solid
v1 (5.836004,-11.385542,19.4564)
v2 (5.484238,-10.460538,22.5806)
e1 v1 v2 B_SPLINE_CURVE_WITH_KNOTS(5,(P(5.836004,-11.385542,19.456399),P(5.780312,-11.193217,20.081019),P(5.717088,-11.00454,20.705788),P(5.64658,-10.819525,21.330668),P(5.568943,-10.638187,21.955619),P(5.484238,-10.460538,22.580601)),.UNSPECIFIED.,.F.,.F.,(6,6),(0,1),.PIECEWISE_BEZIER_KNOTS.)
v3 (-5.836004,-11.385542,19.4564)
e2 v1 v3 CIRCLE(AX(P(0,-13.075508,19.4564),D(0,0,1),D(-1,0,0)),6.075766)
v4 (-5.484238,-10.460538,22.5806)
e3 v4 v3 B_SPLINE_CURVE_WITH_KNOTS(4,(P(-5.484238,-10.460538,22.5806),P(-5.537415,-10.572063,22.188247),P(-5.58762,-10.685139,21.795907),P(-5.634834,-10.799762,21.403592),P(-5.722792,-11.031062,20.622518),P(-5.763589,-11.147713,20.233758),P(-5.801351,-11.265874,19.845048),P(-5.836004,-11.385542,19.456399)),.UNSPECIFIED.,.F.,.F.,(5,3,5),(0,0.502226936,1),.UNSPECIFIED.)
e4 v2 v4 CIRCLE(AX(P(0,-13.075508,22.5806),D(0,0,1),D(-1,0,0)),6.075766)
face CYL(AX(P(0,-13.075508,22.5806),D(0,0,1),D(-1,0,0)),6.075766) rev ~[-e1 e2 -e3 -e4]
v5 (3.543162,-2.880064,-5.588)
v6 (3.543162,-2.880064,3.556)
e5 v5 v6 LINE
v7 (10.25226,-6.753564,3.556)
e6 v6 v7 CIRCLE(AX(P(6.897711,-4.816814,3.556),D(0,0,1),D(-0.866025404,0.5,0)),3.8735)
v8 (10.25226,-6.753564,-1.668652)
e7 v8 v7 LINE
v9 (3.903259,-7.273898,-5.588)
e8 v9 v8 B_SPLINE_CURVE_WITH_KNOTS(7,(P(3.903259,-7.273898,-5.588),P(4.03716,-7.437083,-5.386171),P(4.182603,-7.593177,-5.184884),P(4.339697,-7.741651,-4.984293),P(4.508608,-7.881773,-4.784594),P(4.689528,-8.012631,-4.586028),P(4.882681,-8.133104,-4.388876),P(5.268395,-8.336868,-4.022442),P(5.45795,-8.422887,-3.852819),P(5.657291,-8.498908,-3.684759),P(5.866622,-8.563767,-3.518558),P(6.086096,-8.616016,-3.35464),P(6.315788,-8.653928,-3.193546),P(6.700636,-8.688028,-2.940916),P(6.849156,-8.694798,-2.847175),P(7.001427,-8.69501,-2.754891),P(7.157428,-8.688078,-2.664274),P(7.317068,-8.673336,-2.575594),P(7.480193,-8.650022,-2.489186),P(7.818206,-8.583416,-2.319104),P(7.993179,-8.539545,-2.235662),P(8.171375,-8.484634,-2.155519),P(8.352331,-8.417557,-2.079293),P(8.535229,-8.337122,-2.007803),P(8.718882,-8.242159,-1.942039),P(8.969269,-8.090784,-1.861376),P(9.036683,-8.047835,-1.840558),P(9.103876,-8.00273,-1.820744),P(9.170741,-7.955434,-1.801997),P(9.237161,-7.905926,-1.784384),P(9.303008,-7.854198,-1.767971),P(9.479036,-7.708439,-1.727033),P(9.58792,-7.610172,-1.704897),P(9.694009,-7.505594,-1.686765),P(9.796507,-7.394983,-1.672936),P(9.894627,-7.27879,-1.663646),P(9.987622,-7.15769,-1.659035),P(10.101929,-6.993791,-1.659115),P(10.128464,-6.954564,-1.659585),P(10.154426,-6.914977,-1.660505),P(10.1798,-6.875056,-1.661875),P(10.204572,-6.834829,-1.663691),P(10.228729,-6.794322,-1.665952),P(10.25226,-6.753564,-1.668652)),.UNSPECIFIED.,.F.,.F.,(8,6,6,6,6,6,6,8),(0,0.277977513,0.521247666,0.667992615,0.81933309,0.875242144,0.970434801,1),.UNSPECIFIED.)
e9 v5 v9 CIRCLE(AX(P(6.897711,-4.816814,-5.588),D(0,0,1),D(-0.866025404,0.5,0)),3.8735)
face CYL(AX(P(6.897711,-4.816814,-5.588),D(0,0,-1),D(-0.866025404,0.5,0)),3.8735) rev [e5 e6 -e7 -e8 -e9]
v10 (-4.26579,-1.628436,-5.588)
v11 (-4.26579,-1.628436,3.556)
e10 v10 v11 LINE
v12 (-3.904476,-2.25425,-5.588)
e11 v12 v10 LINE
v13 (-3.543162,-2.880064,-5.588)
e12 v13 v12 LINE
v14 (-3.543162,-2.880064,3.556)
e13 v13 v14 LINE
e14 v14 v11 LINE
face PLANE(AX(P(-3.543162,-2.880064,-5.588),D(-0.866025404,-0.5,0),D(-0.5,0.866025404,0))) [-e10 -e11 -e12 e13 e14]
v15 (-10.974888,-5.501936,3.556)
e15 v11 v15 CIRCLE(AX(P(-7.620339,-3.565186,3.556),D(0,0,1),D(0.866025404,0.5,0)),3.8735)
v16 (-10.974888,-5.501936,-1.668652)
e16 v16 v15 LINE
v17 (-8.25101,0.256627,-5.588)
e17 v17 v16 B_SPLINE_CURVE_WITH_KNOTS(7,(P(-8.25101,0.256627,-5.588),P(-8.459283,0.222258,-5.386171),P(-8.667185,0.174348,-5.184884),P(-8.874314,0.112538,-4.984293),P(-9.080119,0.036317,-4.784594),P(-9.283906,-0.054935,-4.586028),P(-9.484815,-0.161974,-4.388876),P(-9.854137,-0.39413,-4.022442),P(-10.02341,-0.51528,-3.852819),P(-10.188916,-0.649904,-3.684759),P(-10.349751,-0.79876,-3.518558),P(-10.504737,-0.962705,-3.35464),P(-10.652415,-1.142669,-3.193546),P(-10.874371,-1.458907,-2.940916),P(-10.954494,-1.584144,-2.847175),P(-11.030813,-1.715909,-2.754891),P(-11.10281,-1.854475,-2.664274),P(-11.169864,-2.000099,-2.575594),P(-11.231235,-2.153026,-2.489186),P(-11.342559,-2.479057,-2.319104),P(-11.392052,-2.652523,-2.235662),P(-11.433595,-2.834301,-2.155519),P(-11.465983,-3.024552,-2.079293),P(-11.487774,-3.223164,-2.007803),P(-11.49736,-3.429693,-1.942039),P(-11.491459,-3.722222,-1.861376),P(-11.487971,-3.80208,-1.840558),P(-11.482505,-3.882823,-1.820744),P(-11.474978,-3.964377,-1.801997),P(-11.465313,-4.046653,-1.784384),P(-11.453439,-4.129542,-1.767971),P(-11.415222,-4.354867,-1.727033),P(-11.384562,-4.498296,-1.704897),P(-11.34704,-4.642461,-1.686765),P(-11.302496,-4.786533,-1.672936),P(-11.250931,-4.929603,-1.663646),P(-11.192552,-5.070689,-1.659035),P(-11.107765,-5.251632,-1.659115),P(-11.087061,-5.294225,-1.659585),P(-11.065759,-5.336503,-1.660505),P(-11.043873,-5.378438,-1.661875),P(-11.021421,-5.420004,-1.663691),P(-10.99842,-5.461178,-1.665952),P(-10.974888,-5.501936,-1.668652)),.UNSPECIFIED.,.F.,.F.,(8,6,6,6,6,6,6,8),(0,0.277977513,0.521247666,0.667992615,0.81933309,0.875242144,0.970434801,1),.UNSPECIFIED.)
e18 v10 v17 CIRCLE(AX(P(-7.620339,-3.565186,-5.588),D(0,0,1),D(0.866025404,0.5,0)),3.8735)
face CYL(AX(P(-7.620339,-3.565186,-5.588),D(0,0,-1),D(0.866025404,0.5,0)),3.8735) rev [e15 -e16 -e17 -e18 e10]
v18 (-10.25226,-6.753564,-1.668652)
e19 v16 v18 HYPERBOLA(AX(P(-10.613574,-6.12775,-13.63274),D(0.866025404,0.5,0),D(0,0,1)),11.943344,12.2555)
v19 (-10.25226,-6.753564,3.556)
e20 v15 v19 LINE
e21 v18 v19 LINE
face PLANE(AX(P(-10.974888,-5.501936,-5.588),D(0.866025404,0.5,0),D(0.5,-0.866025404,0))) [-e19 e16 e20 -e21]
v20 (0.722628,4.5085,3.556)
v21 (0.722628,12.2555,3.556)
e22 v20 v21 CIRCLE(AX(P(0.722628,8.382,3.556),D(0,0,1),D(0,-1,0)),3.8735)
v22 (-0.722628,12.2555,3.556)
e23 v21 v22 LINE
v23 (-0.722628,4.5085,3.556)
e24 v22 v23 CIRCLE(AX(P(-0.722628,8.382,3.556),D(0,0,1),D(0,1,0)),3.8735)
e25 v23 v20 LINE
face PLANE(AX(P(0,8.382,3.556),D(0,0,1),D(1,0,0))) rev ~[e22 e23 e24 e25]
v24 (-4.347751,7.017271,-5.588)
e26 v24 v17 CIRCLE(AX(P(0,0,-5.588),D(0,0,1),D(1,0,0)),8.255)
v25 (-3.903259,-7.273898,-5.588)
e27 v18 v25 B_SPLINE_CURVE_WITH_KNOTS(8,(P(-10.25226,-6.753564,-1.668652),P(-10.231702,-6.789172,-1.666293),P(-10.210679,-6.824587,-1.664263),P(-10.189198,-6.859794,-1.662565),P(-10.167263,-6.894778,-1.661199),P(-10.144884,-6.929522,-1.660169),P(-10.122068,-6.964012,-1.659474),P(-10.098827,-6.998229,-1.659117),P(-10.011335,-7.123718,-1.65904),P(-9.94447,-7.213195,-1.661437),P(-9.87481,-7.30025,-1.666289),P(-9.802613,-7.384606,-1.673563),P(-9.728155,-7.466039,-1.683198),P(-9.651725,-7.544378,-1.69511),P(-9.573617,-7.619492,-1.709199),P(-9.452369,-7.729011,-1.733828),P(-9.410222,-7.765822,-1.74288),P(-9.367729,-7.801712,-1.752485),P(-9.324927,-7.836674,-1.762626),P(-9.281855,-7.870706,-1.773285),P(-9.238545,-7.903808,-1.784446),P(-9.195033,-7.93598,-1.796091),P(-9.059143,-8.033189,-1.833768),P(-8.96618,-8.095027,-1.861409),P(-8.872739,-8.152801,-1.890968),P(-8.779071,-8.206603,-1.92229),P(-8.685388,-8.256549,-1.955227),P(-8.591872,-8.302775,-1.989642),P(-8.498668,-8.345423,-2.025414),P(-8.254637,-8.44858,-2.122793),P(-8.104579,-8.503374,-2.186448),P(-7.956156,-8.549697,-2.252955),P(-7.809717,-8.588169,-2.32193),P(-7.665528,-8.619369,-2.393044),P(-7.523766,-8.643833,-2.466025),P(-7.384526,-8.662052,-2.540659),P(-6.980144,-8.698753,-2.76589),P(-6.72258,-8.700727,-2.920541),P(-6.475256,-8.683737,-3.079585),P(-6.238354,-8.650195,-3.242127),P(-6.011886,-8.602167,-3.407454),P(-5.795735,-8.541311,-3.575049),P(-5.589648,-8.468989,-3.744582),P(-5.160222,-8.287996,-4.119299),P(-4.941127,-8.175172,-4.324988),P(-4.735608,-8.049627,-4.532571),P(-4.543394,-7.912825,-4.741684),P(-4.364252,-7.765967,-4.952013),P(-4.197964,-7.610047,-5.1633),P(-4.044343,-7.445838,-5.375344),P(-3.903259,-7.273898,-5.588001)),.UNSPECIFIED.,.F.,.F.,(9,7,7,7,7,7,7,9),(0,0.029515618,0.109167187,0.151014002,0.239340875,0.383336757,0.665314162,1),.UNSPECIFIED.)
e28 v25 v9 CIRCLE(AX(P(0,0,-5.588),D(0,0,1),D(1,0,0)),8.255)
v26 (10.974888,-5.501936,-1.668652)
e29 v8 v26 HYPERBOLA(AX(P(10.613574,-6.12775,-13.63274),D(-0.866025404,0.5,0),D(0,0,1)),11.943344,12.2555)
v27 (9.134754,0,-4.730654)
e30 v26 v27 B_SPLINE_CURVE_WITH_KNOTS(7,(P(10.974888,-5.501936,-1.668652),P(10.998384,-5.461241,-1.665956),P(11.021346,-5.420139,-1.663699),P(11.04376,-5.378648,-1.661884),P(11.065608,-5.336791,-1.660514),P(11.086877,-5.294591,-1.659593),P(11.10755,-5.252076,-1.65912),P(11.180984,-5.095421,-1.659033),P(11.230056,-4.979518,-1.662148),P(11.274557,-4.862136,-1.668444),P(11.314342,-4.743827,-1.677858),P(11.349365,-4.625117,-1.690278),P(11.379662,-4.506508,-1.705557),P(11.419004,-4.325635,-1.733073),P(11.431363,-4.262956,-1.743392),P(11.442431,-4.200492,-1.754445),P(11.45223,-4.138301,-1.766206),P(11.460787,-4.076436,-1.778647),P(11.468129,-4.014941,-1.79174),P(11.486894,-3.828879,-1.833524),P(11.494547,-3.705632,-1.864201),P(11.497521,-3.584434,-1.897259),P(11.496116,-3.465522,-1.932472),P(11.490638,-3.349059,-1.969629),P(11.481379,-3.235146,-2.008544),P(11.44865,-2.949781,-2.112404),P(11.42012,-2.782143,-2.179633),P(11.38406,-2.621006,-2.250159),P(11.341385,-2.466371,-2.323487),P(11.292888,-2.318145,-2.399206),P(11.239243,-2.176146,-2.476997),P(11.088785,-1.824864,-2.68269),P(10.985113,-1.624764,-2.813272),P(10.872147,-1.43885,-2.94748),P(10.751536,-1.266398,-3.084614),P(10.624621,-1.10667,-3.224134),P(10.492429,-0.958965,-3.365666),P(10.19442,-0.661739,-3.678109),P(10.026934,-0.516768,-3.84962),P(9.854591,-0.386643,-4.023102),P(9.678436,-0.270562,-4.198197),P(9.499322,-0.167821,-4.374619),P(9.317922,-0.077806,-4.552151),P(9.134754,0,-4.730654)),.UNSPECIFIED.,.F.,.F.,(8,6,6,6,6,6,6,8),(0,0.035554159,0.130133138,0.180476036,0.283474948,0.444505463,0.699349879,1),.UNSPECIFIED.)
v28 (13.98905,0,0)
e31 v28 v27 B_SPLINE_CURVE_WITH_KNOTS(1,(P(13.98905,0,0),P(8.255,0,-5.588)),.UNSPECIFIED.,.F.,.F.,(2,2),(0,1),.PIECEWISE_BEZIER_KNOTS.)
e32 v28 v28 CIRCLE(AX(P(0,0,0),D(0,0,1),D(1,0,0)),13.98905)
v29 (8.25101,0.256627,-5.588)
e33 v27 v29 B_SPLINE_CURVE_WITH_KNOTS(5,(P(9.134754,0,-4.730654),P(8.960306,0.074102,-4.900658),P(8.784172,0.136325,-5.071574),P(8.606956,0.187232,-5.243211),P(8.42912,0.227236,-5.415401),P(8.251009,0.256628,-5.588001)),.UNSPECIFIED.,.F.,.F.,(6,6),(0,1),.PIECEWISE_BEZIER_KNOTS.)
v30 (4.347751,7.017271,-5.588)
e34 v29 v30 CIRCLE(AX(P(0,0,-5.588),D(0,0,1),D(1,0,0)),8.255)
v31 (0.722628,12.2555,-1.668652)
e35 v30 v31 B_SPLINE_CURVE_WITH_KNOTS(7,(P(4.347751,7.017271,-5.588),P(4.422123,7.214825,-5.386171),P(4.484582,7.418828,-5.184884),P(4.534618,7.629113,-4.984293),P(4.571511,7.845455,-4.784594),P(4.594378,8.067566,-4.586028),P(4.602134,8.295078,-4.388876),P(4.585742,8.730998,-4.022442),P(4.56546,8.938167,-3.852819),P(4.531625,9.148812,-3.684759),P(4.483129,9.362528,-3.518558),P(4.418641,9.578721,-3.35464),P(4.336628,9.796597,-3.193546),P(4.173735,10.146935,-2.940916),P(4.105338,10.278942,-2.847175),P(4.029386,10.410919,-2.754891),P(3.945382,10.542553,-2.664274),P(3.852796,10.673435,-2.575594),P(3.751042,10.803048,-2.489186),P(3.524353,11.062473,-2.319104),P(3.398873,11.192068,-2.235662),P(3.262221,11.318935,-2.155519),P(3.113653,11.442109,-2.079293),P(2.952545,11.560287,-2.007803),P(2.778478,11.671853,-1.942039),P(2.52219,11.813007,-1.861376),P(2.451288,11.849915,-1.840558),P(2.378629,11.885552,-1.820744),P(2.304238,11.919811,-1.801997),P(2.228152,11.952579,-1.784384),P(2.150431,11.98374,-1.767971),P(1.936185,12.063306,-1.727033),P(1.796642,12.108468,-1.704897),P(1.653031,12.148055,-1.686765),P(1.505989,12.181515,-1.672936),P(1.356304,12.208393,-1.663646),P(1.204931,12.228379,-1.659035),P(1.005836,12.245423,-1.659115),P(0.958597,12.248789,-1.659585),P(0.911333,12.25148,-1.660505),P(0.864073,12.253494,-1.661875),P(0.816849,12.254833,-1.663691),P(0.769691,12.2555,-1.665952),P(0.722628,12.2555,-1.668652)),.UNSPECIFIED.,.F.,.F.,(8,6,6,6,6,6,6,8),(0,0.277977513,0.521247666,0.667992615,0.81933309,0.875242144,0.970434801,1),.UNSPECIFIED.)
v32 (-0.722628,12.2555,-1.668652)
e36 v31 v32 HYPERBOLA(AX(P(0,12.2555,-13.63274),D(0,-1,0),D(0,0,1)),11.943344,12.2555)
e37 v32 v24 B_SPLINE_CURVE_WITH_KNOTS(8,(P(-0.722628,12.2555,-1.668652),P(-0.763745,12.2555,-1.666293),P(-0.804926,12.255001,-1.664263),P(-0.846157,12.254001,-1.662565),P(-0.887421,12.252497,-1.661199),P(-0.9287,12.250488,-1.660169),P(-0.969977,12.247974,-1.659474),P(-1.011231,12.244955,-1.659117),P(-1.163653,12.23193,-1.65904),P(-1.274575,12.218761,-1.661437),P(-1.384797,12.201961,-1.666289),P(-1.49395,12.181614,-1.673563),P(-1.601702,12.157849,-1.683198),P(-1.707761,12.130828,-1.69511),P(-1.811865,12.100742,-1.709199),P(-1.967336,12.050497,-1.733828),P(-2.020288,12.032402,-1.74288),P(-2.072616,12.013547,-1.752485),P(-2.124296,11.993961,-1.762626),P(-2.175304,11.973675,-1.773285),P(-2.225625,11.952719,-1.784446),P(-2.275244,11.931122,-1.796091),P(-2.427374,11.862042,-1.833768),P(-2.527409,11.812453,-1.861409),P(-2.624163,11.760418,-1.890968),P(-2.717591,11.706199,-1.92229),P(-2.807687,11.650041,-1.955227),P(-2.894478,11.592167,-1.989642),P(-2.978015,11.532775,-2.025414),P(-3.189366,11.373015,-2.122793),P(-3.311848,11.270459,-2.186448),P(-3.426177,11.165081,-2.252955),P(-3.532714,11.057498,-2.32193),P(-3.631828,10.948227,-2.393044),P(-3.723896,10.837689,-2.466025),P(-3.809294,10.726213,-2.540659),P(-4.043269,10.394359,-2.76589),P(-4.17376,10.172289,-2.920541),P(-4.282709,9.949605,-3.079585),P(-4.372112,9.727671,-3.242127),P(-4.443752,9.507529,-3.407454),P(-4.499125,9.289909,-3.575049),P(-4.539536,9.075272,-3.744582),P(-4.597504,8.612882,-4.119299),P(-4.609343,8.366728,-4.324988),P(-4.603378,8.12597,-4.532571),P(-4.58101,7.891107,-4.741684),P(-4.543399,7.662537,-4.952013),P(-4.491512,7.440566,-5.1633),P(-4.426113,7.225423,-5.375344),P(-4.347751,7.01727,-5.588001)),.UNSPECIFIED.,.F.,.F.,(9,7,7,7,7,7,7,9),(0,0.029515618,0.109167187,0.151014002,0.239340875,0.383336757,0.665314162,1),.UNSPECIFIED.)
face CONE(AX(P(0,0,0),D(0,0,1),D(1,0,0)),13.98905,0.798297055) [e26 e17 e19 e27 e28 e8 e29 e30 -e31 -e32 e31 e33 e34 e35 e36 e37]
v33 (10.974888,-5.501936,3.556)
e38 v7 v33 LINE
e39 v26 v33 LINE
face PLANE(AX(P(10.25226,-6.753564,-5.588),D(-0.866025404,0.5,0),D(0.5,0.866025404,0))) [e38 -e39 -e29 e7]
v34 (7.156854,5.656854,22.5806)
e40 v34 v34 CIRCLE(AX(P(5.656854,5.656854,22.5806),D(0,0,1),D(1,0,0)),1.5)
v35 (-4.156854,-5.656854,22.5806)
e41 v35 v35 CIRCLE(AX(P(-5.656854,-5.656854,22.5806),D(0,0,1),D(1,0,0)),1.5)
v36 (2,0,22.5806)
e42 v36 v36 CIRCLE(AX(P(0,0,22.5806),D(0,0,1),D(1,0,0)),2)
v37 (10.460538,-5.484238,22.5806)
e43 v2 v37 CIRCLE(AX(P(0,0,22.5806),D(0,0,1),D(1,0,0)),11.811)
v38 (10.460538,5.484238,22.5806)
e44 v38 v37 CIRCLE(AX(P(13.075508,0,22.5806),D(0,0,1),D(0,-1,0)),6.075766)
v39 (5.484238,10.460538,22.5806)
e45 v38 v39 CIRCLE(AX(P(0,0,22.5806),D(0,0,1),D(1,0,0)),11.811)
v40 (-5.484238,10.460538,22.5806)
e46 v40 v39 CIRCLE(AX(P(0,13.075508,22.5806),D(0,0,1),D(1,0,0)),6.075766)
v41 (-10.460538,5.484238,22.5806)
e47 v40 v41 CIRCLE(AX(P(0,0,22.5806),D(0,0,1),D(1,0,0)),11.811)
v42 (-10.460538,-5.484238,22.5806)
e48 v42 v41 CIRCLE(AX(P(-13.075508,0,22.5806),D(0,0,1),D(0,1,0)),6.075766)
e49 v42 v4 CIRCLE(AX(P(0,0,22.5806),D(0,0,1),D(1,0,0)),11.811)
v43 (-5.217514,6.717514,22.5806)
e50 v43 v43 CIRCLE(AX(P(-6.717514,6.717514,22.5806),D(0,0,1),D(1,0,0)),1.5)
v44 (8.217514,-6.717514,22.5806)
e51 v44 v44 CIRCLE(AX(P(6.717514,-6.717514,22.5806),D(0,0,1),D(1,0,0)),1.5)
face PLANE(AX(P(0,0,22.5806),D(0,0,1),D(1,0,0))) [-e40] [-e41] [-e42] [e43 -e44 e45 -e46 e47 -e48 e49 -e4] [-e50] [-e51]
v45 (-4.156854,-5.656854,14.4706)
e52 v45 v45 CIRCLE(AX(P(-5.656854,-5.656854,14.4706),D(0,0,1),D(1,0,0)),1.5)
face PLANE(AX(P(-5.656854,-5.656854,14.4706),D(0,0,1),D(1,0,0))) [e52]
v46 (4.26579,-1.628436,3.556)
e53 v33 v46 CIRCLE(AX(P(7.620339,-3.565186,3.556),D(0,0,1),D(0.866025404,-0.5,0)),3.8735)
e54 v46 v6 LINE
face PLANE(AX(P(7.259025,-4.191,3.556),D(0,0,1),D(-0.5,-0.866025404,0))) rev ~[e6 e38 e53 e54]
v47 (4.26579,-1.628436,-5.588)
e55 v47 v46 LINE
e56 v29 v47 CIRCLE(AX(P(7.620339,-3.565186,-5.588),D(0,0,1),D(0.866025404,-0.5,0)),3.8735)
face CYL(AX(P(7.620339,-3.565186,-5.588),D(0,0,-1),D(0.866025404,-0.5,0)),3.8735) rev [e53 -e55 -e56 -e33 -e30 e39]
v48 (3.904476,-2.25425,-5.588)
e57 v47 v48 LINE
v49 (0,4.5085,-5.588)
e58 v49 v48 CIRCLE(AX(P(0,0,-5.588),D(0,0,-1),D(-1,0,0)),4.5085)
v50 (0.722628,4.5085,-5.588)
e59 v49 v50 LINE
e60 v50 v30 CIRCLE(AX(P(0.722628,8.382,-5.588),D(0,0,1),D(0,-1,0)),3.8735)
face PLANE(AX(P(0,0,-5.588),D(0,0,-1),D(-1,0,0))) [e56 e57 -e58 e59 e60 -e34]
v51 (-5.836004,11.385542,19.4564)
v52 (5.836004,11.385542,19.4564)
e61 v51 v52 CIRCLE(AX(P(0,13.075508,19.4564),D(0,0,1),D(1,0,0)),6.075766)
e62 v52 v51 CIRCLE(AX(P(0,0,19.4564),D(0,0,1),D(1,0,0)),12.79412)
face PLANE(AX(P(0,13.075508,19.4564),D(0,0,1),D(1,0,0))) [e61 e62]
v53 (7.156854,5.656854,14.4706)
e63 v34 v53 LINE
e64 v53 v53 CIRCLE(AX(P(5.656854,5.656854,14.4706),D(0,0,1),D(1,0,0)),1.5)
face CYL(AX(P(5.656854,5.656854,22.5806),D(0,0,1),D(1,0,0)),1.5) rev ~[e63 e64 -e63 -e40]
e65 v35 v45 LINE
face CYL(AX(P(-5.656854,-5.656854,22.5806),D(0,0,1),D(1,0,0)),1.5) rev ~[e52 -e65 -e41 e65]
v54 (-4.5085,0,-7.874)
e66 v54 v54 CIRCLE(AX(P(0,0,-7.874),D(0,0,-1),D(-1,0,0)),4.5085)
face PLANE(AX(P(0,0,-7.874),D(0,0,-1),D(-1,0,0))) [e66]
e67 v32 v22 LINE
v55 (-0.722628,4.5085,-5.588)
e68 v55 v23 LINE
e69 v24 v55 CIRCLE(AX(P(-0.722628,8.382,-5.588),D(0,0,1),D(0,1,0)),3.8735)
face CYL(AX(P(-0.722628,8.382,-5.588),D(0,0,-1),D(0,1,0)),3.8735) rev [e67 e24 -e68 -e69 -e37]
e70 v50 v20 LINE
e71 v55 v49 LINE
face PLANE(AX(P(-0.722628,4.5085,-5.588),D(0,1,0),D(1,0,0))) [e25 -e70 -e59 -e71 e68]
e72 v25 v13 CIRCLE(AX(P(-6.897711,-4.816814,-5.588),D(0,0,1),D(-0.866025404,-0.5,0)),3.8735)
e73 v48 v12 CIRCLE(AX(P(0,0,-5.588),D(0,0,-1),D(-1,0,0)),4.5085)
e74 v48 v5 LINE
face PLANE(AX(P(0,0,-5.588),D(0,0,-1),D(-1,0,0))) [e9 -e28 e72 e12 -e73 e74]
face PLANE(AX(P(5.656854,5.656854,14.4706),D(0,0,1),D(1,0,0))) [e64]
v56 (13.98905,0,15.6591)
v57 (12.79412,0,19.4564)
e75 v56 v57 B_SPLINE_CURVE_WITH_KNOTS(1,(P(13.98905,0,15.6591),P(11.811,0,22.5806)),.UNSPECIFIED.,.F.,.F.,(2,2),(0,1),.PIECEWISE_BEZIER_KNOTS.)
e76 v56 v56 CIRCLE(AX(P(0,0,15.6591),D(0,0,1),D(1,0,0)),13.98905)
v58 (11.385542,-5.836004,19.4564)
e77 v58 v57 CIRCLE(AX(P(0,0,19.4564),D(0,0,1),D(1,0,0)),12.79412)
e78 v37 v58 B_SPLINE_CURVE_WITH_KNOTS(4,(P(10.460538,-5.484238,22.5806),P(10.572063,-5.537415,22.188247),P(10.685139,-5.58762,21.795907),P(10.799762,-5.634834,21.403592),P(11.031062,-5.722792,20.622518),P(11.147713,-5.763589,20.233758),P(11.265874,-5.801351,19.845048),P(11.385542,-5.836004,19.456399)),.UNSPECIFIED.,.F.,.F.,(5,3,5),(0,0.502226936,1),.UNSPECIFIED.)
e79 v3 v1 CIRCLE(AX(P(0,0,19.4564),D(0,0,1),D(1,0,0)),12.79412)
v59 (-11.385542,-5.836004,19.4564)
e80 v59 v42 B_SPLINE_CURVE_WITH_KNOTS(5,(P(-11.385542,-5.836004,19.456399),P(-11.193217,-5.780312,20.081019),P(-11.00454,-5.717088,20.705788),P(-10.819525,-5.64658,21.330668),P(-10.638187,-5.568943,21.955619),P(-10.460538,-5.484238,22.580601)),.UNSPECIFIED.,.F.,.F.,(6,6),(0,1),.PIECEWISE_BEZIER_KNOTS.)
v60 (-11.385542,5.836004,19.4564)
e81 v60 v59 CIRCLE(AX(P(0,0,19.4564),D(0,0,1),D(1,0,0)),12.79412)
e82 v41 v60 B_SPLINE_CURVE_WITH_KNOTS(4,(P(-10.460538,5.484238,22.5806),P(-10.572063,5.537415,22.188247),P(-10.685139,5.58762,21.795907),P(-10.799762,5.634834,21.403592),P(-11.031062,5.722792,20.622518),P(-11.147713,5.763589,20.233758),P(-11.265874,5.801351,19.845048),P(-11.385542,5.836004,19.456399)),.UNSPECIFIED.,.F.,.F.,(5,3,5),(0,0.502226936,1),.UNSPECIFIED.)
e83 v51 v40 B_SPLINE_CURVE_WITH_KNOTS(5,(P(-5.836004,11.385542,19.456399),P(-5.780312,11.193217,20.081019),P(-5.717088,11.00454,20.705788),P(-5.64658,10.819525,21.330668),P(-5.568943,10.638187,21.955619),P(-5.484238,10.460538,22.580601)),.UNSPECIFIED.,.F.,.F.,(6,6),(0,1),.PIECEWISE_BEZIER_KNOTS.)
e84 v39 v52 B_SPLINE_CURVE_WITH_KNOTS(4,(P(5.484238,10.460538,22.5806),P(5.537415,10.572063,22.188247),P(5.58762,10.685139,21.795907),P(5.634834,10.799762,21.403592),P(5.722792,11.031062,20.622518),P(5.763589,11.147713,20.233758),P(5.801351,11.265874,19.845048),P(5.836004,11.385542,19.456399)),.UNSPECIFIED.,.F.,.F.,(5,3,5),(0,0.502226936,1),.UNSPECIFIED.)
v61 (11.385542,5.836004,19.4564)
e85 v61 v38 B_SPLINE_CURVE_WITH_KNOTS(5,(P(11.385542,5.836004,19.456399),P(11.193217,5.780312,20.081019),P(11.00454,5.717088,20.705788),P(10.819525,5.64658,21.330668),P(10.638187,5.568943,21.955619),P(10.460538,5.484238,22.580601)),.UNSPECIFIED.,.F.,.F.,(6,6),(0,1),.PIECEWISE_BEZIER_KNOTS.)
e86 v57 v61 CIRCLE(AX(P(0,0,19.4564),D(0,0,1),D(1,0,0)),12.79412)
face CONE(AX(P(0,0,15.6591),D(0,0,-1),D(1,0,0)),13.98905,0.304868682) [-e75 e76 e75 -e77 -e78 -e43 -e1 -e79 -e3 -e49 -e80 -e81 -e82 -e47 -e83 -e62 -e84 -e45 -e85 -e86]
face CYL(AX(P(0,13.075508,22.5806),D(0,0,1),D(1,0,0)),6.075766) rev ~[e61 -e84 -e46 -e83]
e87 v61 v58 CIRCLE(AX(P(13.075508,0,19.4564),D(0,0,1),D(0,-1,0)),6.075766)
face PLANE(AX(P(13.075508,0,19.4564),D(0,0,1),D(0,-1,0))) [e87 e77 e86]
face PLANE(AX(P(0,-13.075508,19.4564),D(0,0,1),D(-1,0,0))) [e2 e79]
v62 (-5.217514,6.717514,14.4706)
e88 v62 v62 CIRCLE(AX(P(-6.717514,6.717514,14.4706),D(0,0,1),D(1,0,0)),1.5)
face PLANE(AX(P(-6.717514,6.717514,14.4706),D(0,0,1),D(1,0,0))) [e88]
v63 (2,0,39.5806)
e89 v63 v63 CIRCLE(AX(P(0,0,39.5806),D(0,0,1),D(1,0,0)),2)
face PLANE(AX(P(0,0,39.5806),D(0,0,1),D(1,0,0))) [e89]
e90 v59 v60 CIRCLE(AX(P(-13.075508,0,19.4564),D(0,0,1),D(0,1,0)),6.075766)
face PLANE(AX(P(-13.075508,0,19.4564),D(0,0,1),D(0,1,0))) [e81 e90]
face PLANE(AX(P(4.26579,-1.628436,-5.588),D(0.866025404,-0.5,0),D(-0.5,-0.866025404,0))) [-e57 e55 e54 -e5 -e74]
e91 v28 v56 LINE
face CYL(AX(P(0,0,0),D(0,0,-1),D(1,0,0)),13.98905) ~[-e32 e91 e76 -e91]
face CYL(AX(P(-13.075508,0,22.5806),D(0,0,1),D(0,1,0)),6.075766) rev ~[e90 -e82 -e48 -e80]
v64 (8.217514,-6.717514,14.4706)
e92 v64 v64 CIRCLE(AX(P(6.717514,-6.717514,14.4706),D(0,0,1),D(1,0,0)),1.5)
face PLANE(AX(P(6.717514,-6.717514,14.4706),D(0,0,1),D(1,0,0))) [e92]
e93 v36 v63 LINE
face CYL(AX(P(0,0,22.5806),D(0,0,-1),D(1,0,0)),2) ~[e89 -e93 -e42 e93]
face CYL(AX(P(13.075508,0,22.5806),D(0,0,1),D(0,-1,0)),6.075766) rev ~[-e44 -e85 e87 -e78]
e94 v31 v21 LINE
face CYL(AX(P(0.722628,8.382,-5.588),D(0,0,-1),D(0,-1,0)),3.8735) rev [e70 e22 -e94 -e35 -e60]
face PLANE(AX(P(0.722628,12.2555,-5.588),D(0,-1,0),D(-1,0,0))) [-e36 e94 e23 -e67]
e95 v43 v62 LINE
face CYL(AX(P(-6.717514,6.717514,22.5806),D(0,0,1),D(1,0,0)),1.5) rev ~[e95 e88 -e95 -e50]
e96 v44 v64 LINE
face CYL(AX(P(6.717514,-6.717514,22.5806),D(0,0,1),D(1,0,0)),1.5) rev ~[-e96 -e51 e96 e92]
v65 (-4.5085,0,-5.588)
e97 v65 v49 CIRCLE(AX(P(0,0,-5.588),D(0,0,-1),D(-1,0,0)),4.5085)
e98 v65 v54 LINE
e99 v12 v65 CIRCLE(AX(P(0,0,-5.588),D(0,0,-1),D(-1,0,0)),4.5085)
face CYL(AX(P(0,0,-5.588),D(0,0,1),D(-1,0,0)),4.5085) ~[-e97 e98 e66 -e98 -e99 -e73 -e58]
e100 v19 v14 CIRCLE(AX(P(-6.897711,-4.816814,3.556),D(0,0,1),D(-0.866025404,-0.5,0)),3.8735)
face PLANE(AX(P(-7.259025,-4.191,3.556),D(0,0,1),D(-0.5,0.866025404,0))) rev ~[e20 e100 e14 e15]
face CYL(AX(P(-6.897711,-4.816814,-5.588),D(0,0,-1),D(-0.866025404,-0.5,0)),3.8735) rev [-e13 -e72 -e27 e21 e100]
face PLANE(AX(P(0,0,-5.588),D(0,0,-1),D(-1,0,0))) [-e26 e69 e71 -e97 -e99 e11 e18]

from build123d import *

# Parameters (mm, degrees)
SKETCH1_R           = 13.98905
BOSS_EXTRUDE1_DEPTH = 15.6591
SKETCH2_R           = 11.811
SKETCH4_R           = 8.255
SKETCH5_R           = 4.5085
BOSS_EXTRUDE2_DEPTH = 2.286
CUT_EXTRUDE1_DEPTH  = 9.144
CIRPATTERN1_COUNT   = 3
SKETCH7_R           = 6.075765912
CUT_EXTRUDE2_DEPTH  = 3.1242
CIRPATTERN2_COUNT   = 4
SKETCH8_R           = 2
BOSS_EXTRUDE3_DEPTH = 17
SKETCH9_R           = 1.5
CUT_EXTRUDE3_DEPTH  = 8.11


with BuildPart() as part:
    # Sketch1 → Boss-Extrude1 (new body)
    with BuildSketch(Plane.XY):
        Circle(SKETCH1_R)
    extrude(amount=BOSS_EXTRUDE1_DEPTH)

    # Sketch2 → section 1 of loft1
    with BuildSketch(Plane.XY.offset(22.5806), mode=Mode.PRIVATE) as loft1_s1:
        Circle(SKETCH2_R)
    # loft up to a face of the part (loft1)
    loft([Face(Wire([part.edges().sort_by_distance((-9.576163692, 10.197578577, 15.6591))[0]])), loft1_s1.sketch])

    # Sketch4 → section 1 of loft2
    with BuildSketch(Plane(origin=(0, 0, -5.588), x_dir=(-1, 0, 0), z_dir=(0, 0, -1)), mode=Mode.PRIVATE) as loft2_s1:
        Circle(SKETCH4_R)
    # loft up to a face of the part (loft2)
    loft([Face(Wire([part.edges().sort_by_distance((-9.576163692, -10.197578577, 0))[0]])), loft2_s1.sketch])

    # Sketch5 → Boss-Extrude2 (add)
    with BuildSketch(Plane(origin=(0, 0, -5.588), x_dir=(-1, 0, 0), z_dir=(0, 0, -1))):
        Circle(SKETCH5_R)
    extrude(amount=BOSS_EXTRUDE2_DEPTH)

    # Sketch6 → Cut-Extrude1 (cut)
    with BuildSketch(Plane(origin=(0, 0, -5.588), x_dir=(-1, 0, 0), z_dir=(0, 0, -1))):
        with BuildLine():
            Line((-0.722628041, 12.2555), (0.722628041, 12.2555))
            ThreePointArc((0.722628041, 12.2555), (4.596128041, 8.382), (0.722628041, 4.5085))
            Line((0.722628041, 4.5085), (-0.722628041, 4.5085))
            ThreePointArc((-0.722628041, 4.5085), (-4.596128041, 8.382), (-0.722628041, 12.2555))
        make_face()
    cut_extrude1 = extrude(amount=-CUT_EXTRUDE1_DEPTH, mode=Mode.SUBTRACT)

    # CirPattern1: Cut-Extrude1 ×3 about axis
    cirpattern1_axis = Axis((0, 0, 15.6591), (0, 0, -1))
    for i in range(1, CIRPATTERN1_COUNT):
        add(cut_extrude1.rotate(cirpattern1_axis, i * 360 / CIRPATTERN1_COUNT), mode=Mode.SUBTRACT)

    # Sketch7 → Cut-Extrude2 (cut)
    with BuildSketch(Plane.XY.offset(22.5806)):
        with Locations((0, 13.075508189)):
            Circle(SKETCH7_R)
    cut_extrude2 = extrude(amount=-CUT_EXTRUDE2_DEPTH, mode=Mode.SUBTRACT)

    # CirPattern2: Cut-Extrude2 ×4 about axis
    cirpattern2_axis = Axis((0, 0, 15.6591), (0, 0, -1))
    for i in range(1, CIRPATTERN2_COUNT):
        add(cut_extrude2.rotate(cirpattern2_axis, i * 360 / CIRPATTERN2_COUNT), mode=Mode.SUBTRACT)

    # Sketch8 → Boss-Extrude3 (add)
    with BuildSketch(Plane.XY.offset(22.5806)):
        Circle(SKETCH8_R)
    extrude(amount=BOSS_EXTRUDE3_DEPTH)

    # Sketch9 → Cut-Extrude3 (cut)
    with BuildSketch(Plane.XY.offset(22.5806)):
        with Locations((-6.717514421, 6.717514421)):
            Circle(SKETCH9_R)
        with Locations((6.717514421, -6.717514421)):
            Circle(SKETCH9_R)
        with Locations((5.656854249, 5.656854249)):
            Circle(SKETCH9_R)
        with Locations((-5.656854249, -5.656854249)):
            Circle(SKETCH9_R)
    extrude(amount=-CUT_EXTRUDE3_DEPTH, mode=Mode.SUBTRACT)


solid = part.part
